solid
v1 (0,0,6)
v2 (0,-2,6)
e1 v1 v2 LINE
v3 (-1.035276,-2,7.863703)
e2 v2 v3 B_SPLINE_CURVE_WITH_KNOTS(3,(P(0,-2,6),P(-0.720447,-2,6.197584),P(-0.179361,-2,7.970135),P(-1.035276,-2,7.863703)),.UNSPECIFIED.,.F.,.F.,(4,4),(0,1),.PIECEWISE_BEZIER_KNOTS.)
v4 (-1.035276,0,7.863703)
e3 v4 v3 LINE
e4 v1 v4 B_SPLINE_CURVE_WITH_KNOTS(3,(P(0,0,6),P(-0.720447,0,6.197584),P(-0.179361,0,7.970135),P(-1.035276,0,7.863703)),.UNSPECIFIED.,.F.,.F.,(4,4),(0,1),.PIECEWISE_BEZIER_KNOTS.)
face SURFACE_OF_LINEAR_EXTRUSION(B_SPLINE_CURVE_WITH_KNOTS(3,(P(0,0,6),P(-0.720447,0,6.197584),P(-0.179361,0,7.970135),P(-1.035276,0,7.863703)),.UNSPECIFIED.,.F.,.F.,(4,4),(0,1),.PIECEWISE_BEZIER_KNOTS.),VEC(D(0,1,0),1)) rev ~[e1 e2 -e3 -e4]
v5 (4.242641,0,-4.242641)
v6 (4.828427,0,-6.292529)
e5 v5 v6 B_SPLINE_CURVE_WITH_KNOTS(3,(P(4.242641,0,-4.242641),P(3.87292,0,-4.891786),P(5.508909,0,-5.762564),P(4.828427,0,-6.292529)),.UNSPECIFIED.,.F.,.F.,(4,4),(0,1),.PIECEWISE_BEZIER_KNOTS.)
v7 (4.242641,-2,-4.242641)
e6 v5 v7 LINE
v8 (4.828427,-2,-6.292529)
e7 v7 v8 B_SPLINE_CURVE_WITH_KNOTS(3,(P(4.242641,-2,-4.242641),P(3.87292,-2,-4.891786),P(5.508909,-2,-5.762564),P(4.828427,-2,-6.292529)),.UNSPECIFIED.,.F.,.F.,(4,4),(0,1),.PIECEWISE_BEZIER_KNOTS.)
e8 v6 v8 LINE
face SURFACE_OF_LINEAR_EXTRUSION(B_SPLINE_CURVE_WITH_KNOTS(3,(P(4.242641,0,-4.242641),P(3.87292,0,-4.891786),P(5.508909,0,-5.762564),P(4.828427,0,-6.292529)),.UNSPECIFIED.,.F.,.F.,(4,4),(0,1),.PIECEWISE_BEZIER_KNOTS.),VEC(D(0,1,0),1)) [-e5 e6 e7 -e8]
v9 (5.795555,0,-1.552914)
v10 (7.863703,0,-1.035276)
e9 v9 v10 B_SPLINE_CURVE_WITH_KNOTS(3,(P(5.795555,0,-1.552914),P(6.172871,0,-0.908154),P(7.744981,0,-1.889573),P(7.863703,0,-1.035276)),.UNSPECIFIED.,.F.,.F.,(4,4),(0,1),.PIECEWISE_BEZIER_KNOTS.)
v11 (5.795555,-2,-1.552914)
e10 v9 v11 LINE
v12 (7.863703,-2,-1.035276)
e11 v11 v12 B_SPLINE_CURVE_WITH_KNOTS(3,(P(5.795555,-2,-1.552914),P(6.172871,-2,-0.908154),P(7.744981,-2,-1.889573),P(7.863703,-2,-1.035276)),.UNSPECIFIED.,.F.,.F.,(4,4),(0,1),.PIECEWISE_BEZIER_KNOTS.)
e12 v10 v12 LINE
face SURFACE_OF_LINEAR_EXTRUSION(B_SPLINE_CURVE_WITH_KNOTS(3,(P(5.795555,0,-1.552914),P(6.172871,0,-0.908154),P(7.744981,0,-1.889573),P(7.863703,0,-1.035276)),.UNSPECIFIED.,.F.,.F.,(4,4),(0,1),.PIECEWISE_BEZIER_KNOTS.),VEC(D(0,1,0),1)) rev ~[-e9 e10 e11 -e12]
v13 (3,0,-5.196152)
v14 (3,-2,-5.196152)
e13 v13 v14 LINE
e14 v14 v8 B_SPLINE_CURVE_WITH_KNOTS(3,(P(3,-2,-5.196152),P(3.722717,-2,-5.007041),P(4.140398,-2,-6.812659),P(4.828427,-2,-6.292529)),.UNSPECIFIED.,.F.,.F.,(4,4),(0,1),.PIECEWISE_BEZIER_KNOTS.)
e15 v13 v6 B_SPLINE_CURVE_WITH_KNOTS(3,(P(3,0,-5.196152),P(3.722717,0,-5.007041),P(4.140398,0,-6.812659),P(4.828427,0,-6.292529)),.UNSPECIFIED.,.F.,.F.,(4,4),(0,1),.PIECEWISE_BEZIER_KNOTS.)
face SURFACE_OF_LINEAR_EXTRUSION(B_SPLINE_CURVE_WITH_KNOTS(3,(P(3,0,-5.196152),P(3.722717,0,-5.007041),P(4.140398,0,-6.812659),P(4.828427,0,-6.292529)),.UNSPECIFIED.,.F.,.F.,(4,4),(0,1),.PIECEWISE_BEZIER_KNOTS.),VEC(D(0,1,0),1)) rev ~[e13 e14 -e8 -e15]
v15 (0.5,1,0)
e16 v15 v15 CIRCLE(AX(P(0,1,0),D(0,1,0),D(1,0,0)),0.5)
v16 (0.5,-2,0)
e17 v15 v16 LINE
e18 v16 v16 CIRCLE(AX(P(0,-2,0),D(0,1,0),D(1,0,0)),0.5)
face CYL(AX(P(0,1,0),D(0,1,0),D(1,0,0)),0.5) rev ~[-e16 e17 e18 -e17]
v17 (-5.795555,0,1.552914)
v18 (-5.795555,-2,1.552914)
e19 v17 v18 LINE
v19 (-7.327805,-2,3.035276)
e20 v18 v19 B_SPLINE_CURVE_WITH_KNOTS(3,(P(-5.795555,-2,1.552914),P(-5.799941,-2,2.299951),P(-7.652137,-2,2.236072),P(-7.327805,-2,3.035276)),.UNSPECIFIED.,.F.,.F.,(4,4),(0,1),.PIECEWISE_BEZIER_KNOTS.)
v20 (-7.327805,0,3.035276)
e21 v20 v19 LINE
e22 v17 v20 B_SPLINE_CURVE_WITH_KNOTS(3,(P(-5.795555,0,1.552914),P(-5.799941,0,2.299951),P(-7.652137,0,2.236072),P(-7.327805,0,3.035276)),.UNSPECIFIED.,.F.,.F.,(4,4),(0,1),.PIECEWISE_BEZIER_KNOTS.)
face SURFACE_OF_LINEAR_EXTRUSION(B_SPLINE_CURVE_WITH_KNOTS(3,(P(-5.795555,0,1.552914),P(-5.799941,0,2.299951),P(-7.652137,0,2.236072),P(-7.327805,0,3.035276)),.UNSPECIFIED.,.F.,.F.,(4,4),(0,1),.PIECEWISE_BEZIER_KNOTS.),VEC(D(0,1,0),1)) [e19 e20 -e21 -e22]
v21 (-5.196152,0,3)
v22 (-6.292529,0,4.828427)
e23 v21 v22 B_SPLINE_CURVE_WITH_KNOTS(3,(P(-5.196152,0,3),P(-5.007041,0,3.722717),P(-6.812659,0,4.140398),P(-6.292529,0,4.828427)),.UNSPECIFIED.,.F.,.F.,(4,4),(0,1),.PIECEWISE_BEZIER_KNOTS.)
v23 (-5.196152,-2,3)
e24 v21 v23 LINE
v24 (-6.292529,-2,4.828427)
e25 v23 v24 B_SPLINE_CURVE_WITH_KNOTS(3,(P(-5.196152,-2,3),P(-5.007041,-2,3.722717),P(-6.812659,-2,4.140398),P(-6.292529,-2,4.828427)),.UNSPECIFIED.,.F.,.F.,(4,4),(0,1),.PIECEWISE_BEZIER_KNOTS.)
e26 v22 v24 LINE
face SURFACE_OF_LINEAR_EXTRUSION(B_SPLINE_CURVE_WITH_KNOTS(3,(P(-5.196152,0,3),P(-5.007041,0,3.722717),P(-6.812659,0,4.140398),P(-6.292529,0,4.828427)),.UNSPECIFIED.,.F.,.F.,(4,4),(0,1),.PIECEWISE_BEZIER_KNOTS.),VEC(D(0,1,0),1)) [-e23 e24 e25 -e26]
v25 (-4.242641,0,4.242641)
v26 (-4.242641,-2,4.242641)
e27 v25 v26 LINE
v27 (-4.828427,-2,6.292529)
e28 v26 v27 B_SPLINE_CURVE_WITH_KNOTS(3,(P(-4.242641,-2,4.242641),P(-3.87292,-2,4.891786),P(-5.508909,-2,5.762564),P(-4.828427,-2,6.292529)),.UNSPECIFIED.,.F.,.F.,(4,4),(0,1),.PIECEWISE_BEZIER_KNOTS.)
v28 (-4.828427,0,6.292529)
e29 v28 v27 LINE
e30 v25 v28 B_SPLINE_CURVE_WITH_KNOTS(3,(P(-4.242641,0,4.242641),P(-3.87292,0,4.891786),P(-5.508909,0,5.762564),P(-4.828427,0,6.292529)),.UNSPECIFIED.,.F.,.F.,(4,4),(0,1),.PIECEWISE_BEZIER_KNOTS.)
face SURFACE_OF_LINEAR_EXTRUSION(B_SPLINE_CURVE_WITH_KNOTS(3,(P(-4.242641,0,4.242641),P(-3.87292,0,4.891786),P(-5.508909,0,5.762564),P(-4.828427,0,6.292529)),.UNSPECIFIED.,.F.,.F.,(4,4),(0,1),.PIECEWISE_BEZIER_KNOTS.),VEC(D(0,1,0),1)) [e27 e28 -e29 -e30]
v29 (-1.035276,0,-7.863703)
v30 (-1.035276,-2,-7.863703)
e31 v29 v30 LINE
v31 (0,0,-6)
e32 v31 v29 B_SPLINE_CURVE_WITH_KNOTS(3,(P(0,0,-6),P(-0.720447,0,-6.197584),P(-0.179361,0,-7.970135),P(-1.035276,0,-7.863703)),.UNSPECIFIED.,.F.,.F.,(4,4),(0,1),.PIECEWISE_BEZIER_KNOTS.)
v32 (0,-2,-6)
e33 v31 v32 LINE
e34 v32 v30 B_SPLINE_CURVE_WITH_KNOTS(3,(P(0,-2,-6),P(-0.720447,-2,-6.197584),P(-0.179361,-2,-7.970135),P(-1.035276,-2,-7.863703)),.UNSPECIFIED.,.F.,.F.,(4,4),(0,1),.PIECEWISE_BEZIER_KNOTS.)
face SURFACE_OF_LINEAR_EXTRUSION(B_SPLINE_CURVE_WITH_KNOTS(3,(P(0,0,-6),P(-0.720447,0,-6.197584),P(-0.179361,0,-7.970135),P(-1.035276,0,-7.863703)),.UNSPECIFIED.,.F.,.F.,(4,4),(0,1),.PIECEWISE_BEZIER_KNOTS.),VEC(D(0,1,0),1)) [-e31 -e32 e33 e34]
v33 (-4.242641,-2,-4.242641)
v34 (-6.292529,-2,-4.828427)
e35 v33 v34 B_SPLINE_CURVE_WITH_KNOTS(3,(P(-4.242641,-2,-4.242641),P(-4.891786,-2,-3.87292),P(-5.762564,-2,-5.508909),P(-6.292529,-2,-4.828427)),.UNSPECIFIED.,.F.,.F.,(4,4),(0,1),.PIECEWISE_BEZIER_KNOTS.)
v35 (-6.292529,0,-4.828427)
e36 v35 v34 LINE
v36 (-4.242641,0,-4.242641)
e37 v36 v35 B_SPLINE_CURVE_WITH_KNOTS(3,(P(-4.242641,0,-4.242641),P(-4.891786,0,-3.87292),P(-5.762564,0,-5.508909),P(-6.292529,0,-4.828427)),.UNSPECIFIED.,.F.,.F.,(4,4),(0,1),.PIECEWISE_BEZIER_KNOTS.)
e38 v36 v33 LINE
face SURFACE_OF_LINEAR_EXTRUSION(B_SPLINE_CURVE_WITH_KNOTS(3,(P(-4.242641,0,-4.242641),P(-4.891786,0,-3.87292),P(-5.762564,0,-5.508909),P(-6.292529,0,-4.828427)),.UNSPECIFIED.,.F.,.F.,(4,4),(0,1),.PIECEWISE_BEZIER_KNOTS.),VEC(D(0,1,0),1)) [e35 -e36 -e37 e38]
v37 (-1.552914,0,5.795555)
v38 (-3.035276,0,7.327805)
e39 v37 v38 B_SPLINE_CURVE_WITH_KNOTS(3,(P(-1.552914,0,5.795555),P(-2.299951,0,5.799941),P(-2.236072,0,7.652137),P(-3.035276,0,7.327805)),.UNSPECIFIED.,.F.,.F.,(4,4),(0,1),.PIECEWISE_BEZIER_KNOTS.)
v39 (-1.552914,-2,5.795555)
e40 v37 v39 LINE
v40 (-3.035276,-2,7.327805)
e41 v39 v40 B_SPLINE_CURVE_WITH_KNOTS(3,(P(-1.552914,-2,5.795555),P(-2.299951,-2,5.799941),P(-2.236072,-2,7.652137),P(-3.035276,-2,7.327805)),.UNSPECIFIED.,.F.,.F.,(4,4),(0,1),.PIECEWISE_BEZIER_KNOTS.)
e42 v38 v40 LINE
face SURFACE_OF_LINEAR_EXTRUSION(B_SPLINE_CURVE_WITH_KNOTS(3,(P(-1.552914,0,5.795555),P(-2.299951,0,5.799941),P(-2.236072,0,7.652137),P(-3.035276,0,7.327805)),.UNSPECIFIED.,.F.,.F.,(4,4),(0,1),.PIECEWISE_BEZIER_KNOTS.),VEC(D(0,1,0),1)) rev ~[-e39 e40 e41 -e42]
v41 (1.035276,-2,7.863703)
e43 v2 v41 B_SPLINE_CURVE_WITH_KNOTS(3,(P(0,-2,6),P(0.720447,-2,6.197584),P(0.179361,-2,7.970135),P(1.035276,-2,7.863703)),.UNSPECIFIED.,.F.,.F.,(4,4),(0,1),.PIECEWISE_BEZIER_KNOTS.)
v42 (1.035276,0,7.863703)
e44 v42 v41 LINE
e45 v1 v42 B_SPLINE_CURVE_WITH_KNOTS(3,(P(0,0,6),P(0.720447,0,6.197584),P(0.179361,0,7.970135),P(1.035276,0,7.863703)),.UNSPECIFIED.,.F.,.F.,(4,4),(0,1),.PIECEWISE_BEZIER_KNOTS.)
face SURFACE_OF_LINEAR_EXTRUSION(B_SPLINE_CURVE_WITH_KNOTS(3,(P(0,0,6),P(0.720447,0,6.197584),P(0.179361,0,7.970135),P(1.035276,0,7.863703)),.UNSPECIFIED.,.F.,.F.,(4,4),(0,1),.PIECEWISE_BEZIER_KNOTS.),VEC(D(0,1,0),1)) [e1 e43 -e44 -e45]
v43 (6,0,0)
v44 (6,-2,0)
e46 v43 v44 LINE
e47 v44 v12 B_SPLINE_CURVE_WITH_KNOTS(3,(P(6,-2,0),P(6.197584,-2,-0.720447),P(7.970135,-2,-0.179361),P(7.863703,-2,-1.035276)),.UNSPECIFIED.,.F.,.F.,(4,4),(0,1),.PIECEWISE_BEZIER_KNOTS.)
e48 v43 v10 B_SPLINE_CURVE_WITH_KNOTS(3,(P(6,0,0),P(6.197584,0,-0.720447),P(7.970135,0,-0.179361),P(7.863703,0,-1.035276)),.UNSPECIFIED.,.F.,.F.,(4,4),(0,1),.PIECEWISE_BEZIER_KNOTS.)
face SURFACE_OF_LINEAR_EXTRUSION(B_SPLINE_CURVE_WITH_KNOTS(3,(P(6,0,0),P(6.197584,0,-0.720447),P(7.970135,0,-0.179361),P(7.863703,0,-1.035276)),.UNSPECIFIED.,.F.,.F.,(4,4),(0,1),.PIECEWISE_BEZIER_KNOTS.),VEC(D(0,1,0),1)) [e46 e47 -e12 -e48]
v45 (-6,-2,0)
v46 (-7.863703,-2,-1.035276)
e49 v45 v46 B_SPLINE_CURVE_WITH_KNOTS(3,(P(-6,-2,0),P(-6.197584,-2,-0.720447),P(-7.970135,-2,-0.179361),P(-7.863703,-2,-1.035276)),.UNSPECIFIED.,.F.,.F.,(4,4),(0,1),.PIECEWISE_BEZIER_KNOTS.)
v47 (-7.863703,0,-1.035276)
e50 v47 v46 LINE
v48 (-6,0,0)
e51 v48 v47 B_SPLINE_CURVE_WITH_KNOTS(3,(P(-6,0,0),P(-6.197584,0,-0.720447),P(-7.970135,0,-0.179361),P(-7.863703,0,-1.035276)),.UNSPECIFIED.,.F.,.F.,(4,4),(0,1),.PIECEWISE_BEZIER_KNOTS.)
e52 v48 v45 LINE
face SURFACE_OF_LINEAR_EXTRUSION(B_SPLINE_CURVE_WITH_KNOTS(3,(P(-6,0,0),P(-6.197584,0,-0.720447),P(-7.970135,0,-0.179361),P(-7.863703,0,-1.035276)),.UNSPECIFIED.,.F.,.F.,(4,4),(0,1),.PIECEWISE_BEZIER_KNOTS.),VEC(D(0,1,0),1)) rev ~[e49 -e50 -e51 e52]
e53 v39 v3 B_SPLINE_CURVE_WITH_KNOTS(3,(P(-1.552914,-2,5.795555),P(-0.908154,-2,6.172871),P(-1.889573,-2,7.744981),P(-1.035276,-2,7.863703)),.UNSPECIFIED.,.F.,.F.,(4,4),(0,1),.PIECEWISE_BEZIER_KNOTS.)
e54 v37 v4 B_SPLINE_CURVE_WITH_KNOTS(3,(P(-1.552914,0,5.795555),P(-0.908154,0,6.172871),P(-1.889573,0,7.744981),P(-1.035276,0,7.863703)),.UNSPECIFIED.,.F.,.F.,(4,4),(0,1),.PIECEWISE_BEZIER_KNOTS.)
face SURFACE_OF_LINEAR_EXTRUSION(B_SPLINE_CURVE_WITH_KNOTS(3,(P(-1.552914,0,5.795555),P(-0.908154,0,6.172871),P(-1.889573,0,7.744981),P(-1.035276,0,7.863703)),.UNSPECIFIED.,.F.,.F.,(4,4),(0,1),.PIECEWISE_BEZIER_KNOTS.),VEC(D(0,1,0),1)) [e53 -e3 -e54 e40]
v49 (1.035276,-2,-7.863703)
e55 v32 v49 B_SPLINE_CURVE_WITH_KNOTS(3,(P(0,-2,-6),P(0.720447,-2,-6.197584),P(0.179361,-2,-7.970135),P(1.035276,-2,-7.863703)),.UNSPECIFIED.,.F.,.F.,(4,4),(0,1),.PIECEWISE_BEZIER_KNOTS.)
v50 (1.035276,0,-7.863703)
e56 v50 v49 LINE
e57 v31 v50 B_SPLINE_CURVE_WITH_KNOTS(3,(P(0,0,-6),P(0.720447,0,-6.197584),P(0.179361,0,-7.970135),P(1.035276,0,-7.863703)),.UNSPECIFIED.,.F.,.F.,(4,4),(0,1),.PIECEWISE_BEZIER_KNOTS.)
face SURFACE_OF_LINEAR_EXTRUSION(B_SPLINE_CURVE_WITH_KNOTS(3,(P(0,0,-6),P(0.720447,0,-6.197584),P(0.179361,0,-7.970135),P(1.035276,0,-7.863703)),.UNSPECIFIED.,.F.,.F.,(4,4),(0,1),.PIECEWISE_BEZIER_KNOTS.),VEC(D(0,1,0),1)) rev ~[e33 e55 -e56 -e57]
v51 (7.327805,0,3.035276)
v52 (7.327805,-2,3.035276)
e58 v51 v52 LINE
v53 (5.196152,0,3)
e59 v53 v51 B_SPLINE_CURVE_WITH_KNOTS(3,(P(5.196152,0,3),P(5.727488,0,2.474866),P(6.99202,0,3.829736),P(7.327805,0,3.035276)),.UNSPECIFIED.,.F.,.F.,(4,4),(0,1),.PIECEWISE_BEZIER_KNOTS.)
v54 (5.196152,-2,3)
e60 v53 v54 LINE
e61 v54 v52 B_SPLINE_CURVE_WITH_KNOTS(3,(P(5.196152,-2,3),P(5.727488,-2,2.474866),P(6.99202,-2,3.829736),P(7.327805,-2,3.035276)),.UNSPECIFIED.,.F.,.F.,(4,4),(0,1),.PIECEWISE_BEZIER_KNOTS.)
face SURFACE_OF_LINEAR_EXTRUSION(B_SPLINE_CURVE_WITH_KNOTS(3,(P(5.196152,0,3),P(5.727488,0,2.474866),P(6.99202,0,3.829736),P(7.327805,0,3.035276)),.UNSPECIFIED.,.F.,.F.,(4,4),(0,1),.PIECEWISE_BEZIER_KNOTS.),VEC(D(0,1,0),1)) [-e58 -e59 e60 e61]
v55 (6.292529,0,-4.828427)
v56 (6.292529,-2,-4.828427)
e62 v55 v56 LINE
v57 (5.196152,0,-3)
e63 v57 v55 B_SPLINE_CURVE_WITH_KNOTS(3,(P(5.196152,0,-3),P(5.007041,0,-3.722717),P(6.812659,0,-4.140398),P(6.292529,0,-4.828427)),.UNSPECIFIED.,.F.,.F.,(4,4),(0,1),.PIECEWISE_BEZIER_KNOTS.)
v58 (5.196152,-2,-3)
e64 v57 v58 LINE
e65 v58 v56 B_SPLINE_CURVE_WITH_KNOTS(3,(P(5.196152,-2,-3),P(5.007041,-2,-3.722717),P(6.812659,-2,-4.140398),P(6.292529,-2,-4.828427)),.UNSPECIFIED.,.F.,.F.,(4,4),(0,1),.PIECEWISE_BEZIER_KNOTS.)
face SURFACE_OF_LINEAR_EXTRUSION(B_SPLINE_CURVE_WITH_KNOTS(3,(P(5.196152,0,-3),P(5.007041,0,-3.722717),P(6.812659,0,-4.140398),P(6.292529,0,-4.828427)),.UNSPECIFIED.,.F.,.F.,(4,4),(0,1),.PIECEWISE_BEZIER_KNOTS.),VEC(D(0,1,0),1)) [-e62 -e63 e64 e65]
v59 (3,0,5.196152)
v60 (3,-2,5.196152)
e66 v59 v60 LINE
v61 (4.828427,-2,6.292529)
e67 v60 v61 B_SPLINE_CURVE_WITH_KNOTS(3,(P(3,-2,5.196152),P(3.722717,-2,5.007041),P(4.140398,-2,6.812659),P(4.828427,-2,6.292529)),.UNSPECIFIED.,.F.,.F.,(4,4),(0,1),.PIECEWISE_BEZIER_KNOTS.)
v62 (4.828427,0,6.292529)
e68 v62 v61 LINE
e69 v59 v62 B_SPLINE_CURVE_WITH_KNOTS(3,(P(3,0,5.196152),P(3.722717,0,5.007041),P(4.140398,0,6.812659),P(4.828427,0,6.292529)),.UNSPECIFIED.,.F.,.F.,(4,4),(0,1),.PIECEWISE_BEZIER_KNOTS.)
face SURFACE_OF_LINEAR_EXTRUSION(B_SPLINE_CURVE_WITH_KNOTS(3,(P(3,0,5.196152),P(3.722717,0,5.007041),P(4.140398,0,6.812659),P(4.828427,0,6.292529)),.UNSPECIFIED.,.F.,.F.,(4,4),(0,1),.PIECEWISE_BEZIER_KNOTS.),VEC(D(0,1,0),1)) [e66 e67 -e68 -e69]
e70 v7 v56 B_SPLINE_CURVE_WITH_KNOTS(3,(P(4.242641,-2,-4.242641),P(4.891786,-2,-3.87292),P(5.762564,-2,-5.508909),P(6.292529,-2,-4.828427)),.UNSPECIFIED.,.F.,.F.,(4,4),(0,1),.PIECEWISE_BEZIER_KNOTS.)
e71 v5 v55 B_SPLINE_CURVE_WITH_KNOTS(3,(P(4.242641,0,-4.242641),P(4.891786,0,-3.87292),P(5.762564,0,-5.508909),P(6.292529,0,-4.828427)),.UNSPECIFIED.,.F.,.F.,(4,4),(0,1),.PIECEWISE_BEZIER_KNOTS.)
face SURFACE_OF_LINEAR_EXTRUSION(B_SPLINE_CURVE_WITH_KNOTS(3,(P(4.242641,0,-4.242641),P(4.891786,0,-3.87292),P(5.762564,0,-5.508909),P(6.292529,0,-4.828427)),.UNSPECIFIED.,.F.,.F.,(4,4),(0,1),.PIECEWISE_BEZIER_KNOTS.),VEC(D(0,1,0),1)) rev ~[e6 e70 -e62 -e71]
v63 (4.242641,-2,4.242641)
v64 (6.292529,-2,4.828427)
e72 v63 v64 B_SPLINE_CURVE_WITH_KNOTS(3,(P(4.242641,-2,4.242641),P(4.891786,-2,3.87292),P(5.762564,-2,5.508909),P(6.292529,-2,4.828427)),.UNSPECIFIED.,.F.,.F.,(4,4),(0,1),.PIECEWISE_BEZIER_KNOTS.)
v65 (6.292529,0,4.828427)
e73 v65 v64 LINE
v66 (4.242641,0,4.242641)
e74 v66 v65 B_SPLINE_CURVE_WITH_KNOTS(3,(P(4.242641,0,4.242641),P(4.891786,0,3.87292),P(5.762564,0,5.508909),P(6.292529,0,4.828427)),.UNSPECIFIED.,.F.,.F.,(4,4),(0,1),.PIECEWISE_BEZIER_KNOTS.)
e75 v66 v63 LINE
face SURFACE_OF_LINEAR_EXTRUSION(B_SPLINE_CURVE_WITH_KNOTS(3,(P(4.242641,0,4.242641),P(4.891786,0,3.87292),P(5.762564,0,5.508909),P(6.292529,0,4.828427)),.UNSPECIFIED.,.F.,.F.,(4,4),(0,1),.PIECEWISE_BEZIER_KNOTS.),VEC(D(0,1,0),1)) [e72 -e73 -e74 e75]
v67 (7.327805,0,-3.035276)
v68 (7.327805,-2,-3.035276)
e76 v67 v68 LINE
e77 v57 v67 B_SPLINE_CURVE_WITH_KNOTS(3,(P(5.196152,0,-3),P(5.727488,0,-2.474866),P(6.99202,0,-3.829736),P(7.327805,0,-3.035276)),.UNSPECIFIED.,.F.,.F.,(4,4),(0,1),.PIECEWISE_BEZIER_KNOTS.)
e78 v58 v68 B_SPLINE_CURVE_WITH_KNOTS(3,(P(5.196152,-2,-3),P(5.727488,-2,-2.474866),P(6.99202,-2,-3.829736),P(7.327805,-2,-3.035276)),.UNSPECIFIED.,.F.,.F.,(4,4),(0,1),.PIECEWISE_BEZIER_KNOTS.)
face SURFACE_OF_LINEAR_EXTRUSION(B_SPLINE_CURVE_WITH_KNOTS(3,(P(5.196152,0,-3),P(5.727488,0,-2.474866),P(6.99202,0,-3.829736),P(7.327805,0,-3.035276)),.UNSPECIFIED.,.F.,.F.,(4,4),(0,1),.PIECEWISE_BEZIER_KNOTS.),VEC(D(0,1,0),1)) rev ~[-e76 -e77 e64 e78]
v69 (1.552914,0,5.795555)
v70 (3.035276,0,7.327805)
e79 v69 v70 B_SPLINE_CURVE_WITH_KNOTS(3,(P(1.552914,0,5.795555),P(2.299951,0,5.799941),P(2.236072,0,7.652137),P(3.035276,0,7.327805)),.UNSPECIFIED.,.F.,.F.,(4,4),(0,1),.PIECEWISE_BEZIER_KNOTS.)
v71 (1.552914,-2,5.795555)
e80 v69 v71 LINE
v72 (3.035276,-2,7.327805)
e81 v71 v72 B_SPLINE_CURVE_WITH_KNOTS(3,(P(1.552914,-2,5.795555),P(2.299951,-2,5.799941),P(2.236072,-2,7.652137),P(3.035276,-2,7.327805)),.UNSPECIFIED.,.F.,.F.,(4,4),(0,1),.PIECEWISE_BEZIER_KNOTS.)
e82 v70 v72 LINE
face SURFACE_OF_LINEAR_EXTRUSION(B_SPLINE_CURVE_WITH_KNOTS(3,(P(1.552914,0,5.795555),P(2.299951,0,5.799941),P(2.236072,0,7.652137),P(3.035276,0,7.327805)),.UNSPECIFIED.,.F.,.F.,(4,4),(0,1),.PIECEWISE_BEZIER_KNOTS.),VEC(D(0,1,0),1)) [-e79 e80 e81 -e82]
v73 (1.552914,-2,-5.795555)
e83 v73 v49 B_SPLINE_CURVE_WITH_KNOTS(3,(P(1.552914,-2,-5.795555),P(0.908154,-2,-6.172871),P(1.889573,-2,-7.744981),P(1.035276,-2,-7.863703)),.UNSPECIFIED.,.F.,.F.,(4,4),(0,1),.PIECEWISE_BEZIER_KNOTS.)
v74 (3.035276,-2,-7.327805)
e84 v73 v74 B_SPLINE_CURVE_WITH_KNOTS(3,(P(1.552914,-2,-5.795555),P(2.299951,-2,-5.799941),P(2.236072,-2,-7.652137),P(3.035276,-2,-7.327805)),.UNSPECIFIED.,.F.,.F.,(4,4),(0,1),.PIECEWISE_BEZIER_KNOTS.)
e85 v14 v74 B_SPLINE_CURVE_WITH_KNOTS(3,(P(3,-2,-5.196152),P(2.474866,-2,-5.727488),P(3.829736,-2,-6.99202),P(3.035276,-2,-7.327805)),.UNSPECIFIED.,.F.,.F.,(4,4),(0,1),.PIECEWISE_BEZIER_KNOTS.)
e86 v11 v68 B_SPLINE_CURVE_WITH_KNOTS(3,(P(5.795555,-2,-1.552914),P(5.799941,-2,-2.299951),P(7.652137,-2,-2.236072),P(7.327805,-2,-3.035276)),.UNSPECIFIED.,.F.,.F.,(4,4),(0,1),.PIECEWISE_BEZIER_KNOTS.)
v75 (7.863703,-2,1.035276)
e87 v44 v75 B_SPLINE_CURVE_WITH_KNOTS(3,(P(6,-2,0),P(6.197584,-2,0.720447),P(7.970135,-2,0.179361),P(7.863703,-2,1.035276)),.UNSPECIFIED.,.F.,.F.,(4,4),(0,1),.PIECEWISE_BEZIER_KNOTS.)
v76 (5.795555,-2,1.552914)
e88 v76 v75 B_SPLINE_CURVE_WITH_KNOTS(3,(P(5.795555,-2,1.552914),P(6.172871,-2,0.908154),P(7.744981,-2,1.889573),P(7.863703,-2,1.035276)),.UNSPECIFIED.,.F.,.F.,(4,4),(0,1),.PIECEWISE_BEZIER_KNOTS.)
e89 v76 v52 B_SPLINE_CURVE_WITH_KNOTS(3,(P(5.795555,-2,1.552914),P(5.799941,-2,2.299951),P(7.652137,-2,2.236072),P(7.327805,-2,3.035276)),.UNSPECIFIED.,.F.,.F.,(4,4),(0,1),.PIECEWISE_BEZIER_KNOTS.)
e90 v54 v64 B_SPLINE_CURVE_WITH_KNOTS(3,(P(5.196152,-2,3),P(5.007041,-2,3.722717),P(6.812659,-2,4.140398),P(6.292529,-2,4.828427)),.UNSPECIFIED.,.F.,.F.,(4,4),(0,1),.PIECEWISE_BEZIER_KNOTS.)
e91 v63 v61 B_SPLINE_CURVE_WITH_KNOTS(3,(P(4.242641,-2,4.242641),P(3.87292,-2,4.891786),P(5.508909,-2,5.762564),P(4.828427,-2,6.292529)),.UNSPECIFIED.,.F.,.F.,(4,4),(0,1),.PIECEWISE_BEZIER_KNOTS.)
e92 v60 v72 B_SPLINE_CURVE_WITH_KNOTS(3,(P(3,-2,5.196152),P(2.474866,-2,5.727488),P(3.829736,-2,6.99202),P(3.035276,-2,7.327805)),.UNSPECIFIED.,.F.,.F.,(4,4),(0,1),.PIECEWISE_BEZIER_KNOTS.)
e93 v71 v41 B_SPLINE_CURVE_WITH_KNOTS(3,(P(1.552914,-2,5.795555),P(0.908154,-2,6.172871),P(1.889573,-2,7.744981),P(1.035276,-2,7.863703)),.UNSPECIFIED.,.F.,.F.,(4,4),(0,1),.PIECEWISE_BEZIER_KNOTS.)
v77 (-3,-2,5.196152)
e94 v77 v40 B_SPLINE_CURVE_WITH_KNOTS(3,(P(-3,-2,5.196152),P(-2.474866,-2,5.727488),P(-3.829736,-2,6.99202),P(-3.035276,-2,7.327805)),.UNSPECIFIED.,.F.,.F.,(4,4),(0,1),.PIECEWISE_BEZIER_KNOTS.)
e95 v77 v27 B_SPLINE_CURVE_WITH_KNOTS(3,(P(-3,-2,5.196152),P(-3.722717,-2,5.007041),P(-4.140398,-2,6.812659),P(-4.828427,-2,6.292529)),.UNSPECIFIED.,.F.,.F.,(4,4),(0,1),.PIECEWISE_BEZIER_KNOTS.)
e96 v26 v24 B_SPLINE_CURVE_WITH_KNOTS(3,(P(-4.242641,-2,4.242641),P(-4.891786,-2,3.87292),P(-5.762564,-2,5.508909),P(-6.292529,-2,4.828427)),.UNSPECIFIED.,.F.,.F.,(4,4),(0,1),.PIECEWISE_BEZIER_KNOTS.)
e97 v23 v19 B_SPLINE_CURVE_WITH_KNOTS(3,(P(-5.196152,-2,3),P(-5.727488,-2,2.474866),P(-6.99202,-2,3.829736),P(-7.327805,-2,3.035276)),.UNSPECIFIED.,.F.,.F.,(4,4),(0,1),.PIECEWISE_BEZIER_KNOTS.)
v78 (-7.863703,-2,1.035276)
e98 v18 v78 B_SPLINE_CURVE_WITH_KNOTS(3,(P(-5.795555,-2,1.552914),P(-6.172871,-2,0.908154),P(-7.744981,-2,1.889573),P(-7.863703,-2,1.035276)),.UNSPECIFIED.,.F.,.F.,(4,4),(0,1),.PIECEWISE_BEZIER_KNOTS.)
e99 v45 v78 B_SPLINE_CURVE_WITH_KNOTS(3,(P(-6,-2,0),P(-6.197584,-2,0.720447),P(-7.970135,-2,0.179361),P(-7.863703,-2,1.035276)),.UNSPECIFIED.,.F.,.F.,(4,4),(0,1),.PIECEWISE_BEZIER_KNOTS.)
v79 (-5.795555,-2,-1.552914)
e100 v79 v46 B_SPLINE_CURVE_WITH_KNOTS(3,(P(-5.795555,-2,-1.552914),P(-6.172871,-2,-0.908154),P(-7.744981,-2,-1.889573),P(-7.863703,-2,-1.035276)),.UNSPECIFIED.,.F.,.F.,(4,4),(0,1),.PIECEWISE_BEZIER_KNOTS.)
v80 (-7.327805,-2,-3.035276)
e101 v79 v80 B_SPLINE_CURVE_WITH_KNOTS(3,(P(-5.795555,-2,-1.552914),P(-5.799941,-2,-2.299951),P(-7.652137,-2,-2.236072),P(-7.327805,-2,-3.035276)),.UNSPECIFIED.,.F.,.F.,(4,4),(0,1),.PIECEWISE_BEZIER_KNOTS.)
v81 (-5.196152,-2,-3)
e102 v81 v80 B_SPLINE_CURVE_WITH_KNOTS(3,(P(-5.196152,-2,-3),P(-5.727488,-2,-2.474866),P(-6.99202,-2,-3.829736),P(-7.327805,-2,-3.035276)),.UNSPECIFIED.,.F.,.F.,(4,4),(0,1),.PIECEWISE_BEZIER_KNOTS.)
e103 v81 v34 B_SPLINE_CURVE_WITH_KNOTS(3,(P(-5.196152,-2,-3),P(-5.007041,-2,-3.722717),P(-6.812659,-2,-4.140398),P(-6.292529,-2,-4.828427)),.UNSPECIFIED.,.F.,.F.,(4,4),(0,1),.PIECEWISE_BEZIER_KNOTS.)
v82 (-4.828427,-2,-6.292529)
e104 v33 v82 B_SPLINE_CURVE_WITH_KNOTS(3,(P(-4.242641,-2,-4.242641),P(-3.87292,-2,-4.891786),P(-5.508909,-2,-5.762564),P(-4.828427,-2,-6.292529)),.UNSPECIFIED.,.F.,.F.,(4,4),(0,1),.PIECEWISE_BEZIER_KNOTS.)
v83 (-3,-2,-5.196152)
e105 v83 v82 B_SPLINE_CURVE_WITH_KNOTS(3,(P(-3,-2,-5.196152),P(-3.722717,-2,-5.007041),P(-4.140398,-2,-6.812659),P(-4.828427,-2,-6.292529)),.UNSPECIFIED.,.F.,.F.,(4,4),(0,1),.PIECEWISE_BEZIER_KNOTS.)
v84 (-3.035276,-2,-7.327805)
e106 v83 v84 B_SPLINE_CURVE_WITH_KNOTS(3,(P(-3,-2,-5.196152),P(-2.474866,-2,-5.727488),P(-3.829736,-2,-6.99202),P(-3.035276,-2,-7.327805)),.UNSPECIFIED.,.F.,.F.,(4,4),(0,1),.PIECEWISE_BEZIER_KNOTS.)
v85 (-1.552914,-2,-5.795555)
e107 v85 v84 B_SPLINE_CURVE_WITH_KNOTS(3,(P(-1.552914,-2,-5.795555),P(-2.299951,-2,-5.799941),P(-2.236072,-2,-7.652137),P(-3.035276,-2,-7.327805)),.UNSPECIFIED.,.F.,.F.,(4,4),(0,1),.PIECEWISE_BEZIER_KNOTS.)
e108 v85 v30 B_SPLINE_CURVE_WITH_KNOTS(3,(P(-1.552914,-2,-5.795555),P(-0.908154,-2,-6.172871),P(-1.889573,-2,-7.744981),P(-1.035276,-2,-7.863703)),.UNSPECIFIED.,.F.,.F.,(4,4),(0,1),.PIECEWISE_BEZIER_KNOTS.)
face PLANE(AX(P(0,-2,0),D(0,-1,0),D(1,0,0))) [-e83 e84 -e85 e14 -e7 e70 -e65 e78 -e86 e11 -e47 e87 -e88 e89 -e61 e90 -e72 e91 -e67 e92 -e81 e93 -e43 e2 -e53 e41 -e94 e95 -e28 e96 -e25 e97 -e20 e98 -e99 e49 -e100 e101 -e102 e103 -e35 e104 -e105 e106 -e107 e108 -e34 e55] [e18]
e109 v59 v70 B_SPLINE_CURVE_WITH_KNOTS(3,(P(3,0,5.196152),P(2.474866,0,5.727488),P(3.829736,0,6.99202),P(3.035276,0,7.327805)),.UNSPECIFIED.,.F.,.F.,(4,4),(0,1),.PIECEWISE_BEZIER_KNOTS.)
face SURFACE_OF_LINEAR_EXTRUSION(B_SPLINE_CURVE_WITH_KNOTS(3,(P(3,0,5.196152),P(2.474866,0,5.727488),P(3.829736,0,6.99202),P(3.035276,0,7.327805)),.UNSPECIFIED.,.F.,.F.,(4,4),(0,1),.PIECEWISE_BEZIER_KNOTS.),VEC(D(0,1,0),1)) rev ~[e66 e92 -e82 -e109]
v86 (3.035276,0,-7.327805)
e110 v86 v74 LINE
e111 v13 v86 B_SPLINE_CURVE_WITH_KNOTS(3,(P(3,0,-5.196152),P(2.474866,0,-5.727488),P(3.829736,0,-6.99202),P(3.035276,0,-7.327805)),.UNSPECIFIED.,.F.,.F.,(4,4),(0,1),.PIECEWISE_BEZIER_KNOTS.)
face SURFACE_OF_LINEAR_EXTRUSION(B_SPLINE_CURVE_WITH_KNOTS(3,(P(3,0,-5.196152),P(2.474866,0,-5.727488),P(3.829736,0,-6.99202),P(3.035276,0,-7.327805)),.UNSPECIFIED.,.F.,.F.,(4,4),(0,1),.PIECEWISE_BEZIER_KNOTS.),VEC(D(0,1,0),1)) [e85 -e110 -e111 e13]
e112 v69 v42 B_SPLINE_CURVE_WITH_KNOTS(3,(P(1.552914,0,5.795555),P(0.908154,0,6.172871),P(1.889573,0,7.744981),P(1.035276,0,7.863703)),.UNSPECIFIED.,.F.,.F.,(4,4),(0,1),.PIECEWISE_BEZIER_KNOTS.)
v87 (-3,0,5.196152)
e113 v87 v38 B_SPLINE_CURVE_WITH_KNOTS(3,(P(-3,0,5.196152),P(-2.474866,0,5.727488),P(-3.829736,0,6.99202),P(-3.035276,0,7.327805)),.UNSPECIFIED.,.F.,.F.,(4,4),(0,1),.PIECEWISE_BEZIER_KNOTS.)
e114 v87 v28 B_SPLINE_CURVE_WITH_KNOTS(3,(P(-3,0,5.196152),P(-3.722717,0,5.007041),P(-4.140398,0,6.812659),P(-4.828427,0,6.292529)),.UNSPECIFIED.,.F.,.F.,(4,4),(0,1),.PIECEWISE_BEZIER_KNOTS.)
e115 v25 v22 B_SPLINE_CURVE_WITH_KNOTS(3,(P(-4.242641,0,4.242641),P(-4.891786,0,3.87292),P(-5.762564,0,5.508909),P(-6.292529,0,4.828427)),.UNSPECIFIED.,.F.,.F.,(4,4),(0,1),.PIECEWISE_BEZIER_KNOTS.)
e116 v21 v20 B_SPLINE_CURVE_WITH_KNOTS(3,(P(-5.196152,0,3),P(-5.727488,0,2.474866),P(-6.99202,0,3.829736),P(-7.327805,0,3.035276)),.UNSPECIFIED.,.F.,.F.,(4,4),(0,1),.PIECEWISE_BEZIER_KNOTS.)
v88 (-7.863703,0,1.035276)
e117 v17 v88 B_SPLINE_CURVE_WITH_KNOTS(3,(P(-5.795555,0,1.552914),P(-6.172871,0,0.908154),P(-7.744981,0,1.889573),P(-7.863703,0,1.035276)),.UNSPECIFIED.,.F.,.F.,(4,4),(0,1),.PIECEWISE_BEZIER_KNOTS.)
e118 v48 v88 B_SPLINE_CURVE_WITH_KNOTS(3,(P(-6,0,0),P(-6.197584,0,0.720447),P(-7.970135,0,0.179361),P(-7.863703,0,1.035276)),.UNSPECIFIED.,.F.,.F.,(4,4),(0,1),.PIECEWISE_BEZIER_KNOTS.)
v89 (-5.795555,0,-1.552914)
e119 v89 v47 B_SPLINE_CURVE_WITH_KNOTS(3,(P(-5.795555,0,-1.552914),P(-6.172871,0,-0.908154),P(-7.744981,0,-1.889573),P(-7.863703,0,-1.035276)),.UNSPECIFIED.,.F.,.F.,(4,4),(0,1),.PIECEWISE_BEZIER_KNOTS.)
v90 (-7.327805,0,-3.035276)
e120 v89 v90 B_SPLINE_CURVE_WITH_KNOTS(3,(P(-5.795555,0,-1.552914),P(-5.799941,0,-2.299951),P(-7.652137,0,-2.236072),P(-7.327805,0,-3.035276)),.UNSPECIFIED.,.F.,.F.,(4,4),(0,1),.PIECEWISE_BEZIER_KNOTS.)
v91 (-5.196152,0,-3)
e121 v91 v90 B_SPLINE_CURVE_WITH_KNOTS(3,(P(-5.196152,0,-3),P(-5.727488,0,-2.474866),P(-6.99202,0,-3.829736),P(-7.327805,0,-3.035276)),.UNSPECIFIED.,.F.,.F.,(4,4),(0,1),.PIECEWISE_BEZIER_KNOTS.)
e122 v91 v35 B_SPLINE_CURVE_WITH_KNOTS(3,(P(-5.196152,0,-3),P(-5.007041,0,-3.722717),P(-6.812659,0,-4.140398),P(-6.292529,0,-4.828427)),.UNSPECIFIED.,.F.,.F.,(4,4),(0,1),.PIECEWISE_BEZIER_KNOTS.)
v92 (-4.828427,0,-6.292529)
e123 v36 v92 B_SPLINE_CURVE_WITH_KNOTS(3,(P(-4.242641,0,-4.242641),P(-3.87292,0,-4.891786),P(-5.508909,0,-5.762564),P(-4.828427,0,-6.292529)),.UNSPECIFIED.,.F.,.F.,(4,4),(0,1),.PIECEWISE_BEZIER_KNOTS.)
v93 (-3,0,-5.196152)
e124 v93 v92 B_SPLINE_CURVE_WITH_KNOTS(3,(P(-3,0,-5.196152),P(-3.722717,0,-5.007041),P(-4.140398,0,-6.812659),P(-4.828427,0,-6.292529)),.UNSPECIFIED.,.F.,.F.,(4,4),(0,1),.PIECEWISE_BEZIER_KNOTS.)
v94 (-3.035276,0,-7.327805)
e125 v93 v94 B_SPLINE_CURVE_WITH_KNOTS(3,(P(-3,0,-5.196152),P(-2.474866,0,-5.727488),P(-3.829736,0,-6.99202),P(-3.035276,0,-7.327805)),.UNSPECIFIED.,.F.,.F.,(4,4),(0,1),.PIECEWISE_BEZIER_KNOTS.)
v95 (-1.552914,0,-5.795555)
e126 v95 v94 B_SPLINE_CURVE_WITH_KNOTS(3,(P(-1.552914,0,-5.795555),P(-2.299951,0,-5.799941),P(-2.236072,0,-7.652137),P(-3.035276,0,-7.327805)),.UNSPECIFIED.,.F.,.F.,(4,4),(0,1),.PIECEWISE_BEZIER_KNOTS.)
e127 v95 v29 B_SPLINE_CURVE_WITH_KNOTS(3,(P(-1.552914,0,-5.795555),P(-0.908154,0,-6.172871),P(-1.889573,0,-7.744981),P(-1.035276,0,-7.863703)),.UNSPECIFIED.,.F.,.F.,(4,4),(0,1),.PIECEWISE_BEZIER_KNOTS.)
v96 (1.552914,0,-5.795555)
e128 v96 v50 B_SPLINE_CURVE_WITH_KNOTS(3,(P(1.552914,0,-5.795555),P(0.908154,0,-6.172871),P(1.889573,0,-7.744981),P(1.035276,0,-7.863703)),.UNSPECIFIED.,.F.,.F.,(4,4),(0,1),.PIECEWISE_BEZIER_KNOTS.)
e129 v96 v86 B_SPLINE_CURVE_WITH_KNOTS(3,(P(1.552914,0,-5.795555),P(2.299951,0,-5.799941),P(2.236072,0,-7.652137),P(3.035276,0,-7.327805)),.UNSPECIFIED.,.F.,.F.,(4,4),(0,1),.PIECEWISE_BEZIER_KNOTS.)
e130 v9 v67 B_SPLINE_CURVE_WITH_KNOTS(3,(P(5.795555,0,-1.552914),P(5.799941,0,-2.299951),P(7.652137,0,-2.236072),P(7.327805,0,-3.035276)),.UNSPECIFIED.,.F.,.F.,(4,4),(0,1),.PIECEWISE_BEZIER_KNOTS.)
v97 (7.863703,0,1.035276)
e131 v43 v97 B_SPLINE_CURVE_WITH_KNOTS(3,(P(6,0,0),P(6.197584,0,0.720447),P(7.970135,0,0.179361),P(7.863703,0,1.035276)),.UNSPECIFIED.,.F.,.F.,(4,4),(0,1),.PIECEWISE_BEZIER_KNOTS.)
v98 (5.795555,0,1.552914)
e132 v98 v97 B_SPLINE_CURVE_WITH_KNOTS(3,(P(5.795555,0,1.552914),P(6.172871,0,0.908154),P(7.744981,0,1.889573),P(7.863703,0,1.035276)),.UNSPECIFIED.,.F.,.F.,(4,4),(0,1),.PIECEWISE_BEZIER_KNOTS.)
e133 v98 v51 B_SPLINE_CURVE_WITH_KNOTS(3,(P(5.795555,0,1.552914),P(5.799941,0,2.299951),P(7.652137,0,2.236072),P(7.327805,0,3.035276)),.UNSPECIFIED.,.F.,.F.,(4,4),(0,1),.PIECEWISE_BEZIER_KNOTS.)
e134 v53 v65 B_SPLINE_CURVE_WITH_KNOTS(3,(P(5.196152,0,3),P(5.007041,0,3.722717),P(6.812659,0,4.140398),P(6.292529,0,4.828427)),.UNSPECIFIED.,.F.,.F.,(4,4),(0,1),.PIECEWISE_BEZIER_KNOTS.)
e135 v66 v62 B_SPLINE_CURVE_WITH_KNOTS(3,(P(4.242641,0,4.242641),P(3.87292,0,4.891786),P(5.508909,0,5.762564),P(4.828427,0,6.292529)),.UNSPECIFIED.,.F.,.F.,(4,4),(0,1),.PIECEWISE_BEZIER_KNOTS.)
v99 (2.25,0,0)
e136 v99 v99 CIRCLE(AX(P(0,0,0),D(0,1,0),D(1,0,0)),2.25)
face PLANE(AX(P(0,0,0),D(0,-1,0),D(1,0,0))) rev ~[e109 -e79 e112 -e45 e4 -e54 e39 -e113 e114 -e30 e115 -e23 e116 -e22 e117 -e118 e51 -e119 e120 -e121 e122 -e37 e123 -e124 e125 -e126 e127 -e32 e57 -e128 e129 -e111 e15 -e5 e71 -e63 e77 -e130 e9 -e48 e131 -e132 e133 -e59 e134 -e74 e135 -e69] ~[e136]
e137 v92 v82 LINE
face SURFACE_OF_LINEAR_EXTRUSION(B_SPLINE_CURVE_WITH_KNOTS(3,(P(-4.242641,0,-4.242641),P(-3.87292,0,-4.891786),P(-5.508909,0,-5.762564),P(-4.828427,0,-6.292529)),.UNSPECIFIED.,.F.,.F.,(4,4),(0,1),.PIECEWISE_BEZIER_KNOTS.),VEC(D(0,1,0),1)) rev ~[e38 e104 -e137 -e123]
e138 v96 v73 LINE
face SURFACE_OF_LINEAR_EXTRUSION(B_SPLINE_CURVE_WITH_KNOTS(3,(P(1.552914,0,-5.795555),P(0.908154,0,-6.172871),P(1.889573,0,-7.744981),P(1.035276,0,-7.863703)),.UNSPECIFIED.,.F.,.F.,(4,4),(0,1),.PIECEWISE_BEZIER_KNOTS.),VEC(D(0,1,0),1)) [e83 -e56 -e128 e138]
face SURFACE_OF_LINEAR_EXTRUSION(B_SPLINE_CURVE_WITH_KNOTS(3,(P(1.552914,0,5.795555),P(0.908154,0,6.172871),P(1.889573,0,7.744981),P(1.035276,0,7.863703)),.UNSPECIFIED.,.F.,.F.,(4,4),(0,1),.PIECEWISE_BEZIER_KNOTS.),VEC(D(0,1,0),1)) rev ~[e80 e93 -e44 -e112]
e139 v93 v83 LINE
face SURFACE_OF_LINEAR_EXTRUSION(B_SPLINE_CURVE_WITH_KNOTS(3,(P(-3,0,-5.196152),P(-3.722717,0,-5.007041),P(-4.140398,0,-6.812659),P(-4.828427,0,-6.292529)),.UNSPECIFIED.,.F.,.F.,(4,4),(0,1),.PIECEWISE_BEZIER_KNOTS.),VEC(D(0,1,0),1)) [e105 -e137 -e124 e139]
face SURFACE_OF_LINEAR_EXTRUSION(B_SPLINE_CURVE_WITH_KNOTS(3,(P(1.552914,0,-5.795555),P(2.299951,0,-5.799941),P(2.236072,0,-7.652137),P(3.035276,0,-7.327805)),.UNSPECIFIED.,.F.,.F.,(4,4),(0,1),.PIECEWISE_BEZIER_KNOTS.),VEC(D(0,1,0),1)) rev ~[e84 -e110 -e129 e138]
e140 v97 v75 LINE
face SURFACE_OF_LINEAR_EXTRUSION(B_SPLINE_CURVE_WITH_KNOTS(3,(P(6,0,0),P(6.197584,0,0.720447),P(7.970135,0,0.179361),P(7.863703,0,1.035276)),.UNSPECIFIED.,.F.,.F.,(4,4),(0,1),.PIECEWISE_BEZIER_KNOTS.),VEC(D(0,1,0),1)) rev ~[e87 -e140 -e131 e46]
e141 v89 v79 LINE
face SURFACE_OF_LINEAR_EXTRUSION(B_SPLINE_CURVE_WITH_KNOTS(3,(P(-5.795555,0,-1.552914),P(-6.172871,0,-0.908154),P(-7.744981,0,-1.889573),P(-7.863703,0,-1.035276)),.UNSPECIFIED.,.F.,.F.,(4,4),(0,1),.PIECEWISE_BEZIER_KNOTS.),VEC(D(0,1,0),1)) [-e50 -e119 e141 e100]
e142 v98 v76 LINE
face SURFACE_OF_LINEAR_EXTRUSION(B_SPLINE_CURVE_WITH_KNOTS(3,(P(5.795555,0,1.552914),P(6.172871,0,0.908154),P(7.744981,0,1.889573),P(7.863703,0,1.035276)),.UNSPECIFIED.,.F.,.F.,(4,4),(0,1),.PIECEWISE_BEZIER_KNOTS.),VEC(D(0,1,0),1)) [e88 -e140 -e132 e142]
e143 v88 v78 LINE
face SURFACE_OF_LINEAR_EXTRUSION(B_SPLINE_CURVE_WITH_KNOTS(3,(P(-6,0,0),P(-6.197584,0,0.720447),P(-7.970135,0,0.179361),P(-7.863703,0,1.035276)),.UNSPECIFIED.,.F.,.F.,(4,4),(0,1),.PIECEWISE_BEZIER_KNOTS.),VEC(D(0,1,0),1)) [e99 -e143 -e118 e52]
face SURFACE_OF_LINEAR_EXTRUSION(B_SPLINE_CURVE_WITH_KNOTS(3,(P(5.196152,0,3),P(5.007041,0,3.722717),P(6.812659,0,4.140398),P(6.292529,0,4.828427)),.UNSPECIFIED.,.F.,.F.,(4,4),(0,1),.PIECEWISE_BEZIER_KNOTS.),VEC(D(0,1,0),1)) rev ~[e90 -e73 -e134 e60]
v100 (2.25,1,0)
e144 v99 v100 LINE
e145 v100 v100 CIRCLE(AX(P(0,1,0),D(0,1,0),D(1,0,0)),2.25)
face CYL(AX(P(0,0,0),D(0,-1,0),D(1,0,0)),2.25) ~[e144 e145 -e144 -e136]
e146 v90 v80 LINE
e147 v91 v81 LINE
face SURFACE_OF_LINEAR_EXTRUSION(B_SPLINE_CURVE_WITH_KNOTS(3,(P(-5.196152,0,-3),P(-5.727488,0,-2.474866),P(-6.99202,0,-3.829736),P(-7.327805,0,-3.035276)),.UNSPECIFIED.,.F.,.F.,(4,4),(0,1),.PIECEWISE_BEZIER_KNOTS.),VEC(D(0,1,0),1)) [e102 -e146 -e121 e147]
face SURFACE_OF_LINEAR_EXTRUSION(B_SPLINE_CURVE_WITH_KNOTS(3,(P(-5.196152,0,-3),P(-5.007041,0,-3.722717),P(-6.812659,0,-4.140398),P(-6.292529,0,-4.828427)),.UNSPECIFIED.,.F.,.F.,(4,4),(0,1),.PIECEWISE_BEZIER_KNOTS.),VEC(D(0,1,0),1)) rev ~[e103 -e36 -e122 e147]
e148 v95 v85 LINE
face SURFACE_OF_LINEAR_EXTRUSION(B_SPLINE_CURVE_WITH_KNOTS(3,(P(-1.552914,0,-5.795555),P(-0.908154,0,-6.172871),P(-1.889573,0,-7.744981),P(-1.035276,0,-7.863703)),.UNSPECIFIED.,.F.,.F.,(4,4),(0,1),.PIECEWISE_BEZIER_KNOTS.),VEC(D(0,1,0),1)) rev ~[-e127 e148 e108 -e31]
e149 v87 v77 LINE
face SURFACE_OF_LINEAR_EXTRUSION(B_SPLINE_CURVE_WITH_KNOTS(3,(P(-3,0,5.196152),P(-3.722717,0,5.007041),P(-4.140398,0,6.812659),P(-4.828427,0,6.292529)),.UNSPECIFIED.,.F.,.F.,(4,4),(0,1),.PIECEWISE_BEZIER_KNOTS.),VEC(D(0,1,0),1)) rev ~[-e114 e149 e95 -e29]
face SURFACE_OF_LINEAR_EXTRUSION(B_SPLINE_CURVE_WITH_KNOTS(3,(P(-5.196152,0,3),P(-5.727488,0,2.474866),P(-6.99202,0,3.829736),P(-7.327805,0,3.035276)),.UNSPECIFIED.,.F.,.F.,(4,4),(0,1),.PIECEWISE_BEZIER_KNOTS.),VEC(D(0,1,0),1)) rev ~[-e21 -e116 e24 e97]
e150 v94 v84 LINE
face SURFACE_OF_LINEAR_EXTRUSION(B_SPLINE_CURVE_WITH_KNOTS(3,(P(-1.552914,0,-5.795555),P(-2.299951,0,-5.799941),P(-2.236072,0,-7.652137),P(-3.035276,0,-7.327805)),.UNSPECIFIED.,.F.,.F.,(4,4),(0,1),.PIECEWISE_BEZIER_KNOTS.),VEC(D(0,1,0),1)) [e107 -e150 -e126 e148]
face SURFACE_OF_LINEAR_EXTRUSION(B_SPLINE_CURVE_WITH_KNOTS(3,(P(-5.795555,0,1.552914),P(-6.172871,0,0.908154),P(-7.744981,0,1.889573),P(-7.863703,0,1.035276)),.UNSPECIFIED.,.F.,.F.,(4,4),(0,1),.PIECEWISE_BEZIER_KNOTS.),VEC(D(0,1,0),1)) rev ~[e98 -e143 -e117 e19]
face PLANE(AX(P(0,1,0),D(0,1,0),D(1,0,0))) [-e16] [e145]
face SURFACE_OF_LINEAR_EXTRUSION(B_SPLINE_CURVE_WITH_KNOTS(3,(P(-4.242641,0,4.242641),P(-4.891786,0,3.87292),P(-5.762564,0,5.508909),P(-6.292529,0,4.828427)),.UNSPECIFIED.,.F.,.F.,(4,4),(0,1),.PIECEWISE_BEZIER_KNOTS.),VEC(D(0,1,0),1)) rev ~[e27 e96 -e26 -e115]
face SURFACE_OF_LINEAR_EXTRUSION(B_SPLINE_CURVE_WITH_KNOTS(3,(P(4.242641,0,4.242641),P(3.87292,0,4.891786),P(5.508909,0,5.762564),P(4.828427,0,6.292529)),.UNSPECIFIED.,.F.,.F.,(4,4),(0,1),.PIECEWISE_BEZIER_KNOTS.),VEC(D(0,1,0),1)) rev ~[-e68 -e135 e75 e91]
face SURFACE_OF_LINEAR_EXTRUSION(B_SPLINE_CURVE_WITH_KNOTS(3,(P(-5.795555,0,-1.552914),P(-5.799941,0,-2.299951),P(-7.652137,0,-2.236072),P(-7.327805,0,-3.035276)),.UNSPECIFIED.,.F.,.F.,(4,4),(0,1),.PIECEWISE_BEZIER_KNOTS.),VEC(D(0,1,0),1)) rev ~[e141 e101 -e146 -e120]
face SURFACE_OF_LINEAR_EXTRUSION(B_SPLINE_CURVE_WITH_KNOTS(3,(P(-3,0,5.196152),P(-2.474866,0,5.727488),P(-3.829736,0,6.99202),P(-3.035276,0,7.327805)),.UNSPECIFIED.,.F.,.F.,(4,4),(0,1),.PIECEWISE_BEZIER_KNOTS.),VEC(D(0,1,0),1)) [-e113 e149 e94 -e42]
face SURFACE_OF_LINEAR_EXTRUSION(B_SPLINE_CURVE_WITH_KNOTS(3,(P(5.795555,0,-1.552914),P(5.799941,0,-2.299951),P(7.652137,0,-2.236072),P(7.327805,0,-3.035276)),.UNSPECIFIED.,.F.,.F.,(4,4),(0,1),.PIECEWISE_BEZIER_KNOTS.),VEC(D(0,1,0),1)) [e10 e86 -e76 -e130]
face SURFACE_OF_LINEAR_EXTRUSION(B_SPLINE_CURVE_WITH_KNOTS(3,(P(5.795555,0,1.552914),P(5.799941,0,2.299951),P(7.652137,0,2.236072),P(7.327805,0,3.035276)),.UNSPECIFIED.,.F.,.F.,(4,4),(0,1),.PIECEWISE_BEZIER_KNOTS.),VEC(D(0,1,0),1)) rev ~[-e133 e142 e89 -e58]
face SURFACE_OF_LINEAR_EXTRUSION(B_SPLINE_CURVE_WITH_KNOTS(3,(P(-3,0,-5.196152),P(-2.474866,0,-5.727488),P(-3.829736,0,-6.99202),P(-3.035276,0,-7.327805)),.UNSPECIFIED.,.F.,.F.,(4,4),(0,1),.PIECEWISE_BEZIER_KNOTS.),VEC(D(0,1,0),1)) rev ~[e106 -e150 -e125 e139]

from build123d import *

# Parameters (mm, degrees)
SKETCH1_R           = 2.25
BOSS_EXTRUDE1_DEPTH = 1
BOSS_EXTRUDE3_DEPTH = 2
SKETCH7_R           = 0.5
CUT_EXTRUDE1_DEPTH  = 10


with BuildPart() as part:
    # Sketch1 → Boss-Extrude1 (new body)
    with BuildSketch(Plane(origin=(0, 0, 0), x_dir=(1, 0, 0), z_dir=(0, 1, 0))):
        Circle(SKETCH1_R)
    extrude(amount=BOSS_EXTRUDE1_DEPTH)

    # Sketch6 → Boss-Extrude3 (add)
    with BuildSketch(Plane.XZ):
        with BuildLine():
            add(Edge.make_bspline(
                [(0, 6), (-0.720447124, 6.19758351), (-0.179360812, 7.970134936), (-1.03527618, 7.863703305)],
                knots=[0, 0, 0, 0, 1, 1, 1, 1], degree=3))
            add(Edge.make_bspline(
                [(-1.552914271, 5.795554958), (-0.908154163, 6.17287141), (-1.889573473, 7.744981168), (-1.03527618, 7.863703305)],
                knots=[0, 0, 0, 0, 1, 1, 1, 1], degree=3))
            add(Edge.make_bspline(
                [(-1.552914271, 5.795554958), (-2.29995113, 5.799940536), (-2.236071955, 7.65213718), (-3.03527618, 7.32780492)],
                knots=[0, 0, 0, 0, 1, 1, 1, 1], degree=3))
            add(Edge.make_bspline(
                [(-3, 5.196152423), (-2.474866244, 5.727488324), (-3.829736448, 6.992019733), (-3.03527618, 7.32780492)],
                knots=[0, 0, 0, 0, 1, 1, 1, 1], degree=3))
            add(Edge.make_bspline(
                [(-3, 5.196152423), (-3.722717267, 5.0070412), (-4.140398488, 6.81265892), (-4.828427125, 6.29252874)],
                knots=[0, 0, 0, 0, 1, 1, 1, 1], degree=3))
            add(Edge.make_bspline(
                [(-4.242640687, 4.242640687), (-3.87292028, 4.891786374), (-5.508909214, 5.762563707), (-4.828427125, 6.29252874)],
                knots=[0, 0, 0, 0, 1, 1, 1, 1], degree=3))
            add(Edge.make_bspline(
                [(-4.242640687, 4.242640687), (-4.891786374, 3.87292028), (-5.762563707, 5.508909214), (-6.29252874, 4.828427125)],
                knots=[0, 0, 0, 0, 1, 1, 1, 1], degree=3))
            add(Edge.make_bspline(
                [(-5.196152423, 3), (-5.0070412, 3.722717267), (-6.81265892, 4.140398488), (-6.29252874, 4.828427125)],
                knots=[0, 0, 0, 0, 1, 1, 1, 1], degree=3))
            add(Edge.make_bspline(
                [(-5.196152423, 3), (-5.727488324, 2.474866244), (-6.992019733, 3.829736448), (-7.32780492, 3.03527618)],
                knots=[0, 0, 0, 0, 1, 1, 1, 1], degree=3))
            add(Edge.make_bspline(
                [(-5.795554958, 1.552914271), (-5.799940536, 2.29995113), (-7.65213718, 2.236071955), (-7.32780492, 3.03527618)],
                knots=[0, 0, 0, 0, 1, 1, 1, 1], degree=3))
            add(Edge.make_bspline(
                [(-5.795554958, 1.552914271), (-6.17287141, 0.908154163), (-7.744981168, 1.889573473), (-7.863703305, 1.03527618)],
                knots=[0, 0, 0, 0, 1, 1, 1, 1], degree=3))
            add(Edge.make_bspline(
                [(-6, 0), (-6.19758351, 0.720447124), (-7.970134936, 0.179360812), (-7.863703305, 1.03527618)],
                knots=[0, 0, 0, 0, 1, 1, 1, 1], degree=3))
            add(Edge.make_bspline(
                [(-6, 0), (-6.19758351, -0.720447124), (-7.970134936, -0.179360812), (-7.863703305, -1.03527618)],
                knots=[0, 0, 0, 0, 1, 1, 1, 1], degree=3))
            add(Edge.make_bspline(
                [(-5.795554958, -1.552914271), (-6.17287141, -0.908154163), (-7.744981168, -1.889573473), (-7.863703305, -1.03527618)],
                knots=[0, 0, 0, 0, 1, 1, 1, 1], degree=3))
            add(Edge.make_bspline(
                [(-5.795554958, -1.552914271), (-5.799940536, -2.29995113), (-7.65213718, -2.236071955), (-7.32780492, -3.03527618)],
                knots=[0, 0, 0, 0, 1, 1, 1, 1], degree=3))
            add(Edge.make_bspline(
                [(-5.196152423, -3), (-5.727488324, -2.474866244), (-6.992019733, -3.829736448), (-7.32780492, -3.03527618)],
                knots=[0, 0, 0, 0, 1, 1, 1, 1], degree=3))
            add(Edge.make_bspline(
                [(-5.196152423, -3), (-5.0070412, -3.722717267), (-6.81265892, -4.140398488), (-6.29252874, -4.828427125)],
                knots=[0, 0, 0, 0, 1, 1, 1, 1], degree=3))
            add(Edge.make_bspline(
                [(-4.242640687, -4.242640687), (-4.891786374, -3.87292028), (-5.762563707, -5.508909214), (-6.29252874, -4.828427125)],
                knots=[0, 0, 0, 0, 1, 1, 1, 1], degree=3))
            add(Edge.make_bspline(
                [(-4.242640687, -4.242640687), (-3.87292028, -4.891786374), (-5.508909214, -5.762563707), (-4.828427125, -6.29252874)],
                knots=[0, 0, 0, 0, 1, 1, 1, 1], degree=3))
            add(Edge.make_bspline(
                [(-3, -5.196152423), (-3.722717267, -5.0070412), (-4.140398488, -6.81265892), (-4.828427125, -6.29252874)],
                knots=[0, 0, 0, 0, 1, 1, 1, 1], degree=3))
            add(Edge.make_bspline(
                [(-3, -5.196152423), (-2.474866244, -5.727488324), (-3.829736448, -6.992019733), (-3.03527618, -7.32780492)],
                knots=[0, 0, 0, 0, 1, 1, 1, 1], degree=3))
            add(Edge.make_bspline(
                [(-1.552914271, -5.795554958), (-2.29995113, -5.799940536), (-2.236071955, -7.65213718), (-3.03527618, -7.32780492)],
                knots=[0, 0, 0, 0, 1, 1, 1, 1], degree=3))
            add(Edge.make_bspline(
                [(-1.552914271, -5.795554958), (-0.908154163, -6.17287141), (-1.889573473, -7.744981168), (-1.03527618, -7.863703305)],
                knots=[0, 0, 0, 0, 1, 1, 1, 1], degree=3))
            add(Edge.make_bspline(
                [(0, -6), (-0.720447124, -6.19758351), (-0.179360812, -7.970134936), (-1.03527618, -7.863703305)],
                knots=[0, 0, 0, 0, 1, 1, 1, 1], degree=3))
            add(Edge.make_bspline(
                [(0, -6), (0.720447124, -6.19758351), (0.179360812, -7.970134936), (1.03527618, -7.863703305)],
                knots=[0, 0, 0, 0, 1, 1, 1, 1], degree=3))
            add(Edge.make_bspline(
                [(1.552914271, -5.795554958), (0.908154163, -6.17287141), (1.889573473, -7.744981168), (1.03527618, -7.863703305)],
                knots=[0, 0, 0, 0, 1, 1, 1, 1], degree=3))
            add(Edge.make_bspline(
                [(1.552914271, -5.795554958), (2.29995113, -5.799940536), (2.236071955, -7.65213718), (3.03527618, -7.32780492)],
                knots=[0, 0, 0, 0, 1, 1, 1, 1], degree=3))
            add(Edge.make_bspline(
                [(3, -5.196152423), (2.474866244, -5.727488324), (3.829736448, -6.992019733), (3.03527618, -7.32780492)],
                knots=[0, 0, 0, 0, 1, 1, 1, 1], degree=3))
            add(Edge.make_bspline(
                [(3, -5.196152423), (3.722717267, -5.0070412), (4.140398488, -6.81265892), (4.828427125, -6.29252874)],
                knots=[0, 0, 0, 0, 1, 1, 1, 1], degree=3))
            add(Edge.make_bspline(
                [(4.242640687, -4.242640687), (3.87292028, -4.891786374), (5.508909214, -5.762563707), (4.828427125, -6.29252874)],
                knots=[0, 0, 0, 0, 1, 1, 1, 1], degree=3))
            add(Edge.make_bspline(
                [(4.242640687, -4.242640687), (4.891786374, -3.87292028), (5.762563707, -5.508909214), (6.29252874, -4.828427125)],
                knots=[0, 0, 0, 0, 1, 1, 1, 1], degree=3))
            add(Edge.make_bspline(
                [(5.196152423, -3), (5.0070412, -3.722717267), (6.81265892, -4.140398488), (6.29252874, -4.828427125)],
                knots=[0, 0, 0, 0, 1, 1, 1, 1], degree=3))
            add(Edge.make_bspline(
                [(5.196152423, -3), (5.727488324, -2.474866244), (6.992019733, -3.829736448), (7.32780492, -3.03527618)],
                knots=[0, 0, 0, 0, 1, 1, 1, 1], degree=3))
            add(Edge.make_bspline(
                [(5.795554958, -1.552914271), (5.799940536, -2.29995113), (7.65213718, -2.236071955), (7.32780492, -3.03527618)],
                knots=[0, 0, 0, 0, 1, 1, 1, 1], degree=3))
            add(Edge.make_bspline(
                [(5.795554958, -1.552914271), (6.17287141, -0.908154163), (7.744981168, -1.889573473), (7.863703305, -1.03527618)],
                knots=[0, 0, 0, 0, 1, 1, 1, 1], degree=3))
            add(Edge.make_bspline(
                [(6, 0), (6.19758351, -0.720447124), (7.970134936, -0.179360812), (7.863703305, -1.03527618)],
                knots=[0, 0, 0, 0, 1, 1, 1, 1], degree=3))
            add(Edge.make_bspline(
                [(6, 0), (6.19758351, 0.720447124), (7.970134936, 0.179360812), (7.863703305, 1.03527618)],
                knots=[0, 0, 0, 0, 1, 1, 1, 1], degree=3))
            add(Edge.make_bspline(
                [(5.795554958, 1.552914271), (6.17287141, 0.908154163), (7.744981168, 1.889573473), (7.863703305, 1.03527618)],
                knots=[0, 0, 0, 0, 1, 1, 1, 1], degree=3))
            add(Edge.make_bspline(
                [(5.795554958, 1.552914271), (5.799940536, 2.29995113), (7.65213718, 2.236071955), (7.32780492, 3.03527618)],
                knots=[0, 0, 0, 0, 1, 1, 1, 1], degree=3))
            add(Edge.make_bspline(
                [(5.196152423, 3), (5.727488324, 2.474866244), (6.992019733, 3.829736448), (7.32780492, 3.03527618)],
                knots=[0, 0, 0, 0, 1, 1, 1, 1], degree=3))
            add(Edge.make_bspline(
                [(5.196152423, 3), (5.0070412, 3.722717267), (6.81265892, 4.140398488), (6.29252874, 4.828427125)],
                knots=[0, 0, 0, 0, 1, 1, 1, 1], degree=3))
            add(Edge.make_bspline(
                [(4.242640687, 4.242640687), (4.891786374, 3.87292028), (5.762563707, 5.508909214), (6.29252874, 4.828427125)],
                knots=[0, 0, 0, 0, 1, 1, 1, 1], degree=3))
            add(Edge.make_bspline(
                [(4.242640687, 4.242640687), (3.87292028, 4.891786374), (5.508909214, 5.762563707), (4.828427125, 6.29252874)],
                knots=[0, 0, 0, 0, 1, 1, 1, 1], degree=3))
            add(Edge.make_bspline(
                [(3, 5.196152423), (3.722717267, 5.0070412), (4.140398488, 6.81265892), (4.828427125, 6.29252874)],
                knots=[0, 0, 0, 0, 1, 1, 1, 1], degree=3))
            add(Edge.make_bspline(
                [(3, 5.196152423), (2.474866244, 5.727488324), (3.829736448, 6.992019733), (3.03527618, 7.32780492)],
                knots=[0, 0, 0, 0, 1, 1, 1, 1], degree=3))
            add(Edge.make_bspline(
                [(1.552914271, 5.795554958), (2.29995113, 5.799940536), (2.236071955, 7.65213718), (3.03527618, 7.32780492)],
                knots=[0, 0, 0, 0, 1, 1, 1, 1], degree=3))
            add(Edge.make_bspline(
                [(1.552914271, 5.795554958), (0.908154163, 6.17287141), (1.889573473, 7.744981168), (1.03527618, 7.863703305)],
                knots=[0, 0, 0, 0, 1, 1, 1, 1], degree=3))
            add(Edge.make_bspline(
                [(0, 6), (0.720447124, 6.19758351), (0.179360812, 7.970134936), (1.03527618, 7.863703305)],
                knots=[0, 0, 0, 0, 1, 1, 1, 1], degree=3))
        make_face()
    extrude(amount=BOSS_EXTRUDE3_DEPTH)

    # Sketch7 → Cut-Extrude1 (cut)
    with BuildSketch(Plane(origin=(0, 1, 0), x_dir=(1, 0, 0), z_dir=(0, 1, 0))):
        Circle(SKETCH7_R)
    extrude(amount=-CUT_EXTRUDE1_DEPTH, mode=Mode.SUBTRACT)


solid = part.part
